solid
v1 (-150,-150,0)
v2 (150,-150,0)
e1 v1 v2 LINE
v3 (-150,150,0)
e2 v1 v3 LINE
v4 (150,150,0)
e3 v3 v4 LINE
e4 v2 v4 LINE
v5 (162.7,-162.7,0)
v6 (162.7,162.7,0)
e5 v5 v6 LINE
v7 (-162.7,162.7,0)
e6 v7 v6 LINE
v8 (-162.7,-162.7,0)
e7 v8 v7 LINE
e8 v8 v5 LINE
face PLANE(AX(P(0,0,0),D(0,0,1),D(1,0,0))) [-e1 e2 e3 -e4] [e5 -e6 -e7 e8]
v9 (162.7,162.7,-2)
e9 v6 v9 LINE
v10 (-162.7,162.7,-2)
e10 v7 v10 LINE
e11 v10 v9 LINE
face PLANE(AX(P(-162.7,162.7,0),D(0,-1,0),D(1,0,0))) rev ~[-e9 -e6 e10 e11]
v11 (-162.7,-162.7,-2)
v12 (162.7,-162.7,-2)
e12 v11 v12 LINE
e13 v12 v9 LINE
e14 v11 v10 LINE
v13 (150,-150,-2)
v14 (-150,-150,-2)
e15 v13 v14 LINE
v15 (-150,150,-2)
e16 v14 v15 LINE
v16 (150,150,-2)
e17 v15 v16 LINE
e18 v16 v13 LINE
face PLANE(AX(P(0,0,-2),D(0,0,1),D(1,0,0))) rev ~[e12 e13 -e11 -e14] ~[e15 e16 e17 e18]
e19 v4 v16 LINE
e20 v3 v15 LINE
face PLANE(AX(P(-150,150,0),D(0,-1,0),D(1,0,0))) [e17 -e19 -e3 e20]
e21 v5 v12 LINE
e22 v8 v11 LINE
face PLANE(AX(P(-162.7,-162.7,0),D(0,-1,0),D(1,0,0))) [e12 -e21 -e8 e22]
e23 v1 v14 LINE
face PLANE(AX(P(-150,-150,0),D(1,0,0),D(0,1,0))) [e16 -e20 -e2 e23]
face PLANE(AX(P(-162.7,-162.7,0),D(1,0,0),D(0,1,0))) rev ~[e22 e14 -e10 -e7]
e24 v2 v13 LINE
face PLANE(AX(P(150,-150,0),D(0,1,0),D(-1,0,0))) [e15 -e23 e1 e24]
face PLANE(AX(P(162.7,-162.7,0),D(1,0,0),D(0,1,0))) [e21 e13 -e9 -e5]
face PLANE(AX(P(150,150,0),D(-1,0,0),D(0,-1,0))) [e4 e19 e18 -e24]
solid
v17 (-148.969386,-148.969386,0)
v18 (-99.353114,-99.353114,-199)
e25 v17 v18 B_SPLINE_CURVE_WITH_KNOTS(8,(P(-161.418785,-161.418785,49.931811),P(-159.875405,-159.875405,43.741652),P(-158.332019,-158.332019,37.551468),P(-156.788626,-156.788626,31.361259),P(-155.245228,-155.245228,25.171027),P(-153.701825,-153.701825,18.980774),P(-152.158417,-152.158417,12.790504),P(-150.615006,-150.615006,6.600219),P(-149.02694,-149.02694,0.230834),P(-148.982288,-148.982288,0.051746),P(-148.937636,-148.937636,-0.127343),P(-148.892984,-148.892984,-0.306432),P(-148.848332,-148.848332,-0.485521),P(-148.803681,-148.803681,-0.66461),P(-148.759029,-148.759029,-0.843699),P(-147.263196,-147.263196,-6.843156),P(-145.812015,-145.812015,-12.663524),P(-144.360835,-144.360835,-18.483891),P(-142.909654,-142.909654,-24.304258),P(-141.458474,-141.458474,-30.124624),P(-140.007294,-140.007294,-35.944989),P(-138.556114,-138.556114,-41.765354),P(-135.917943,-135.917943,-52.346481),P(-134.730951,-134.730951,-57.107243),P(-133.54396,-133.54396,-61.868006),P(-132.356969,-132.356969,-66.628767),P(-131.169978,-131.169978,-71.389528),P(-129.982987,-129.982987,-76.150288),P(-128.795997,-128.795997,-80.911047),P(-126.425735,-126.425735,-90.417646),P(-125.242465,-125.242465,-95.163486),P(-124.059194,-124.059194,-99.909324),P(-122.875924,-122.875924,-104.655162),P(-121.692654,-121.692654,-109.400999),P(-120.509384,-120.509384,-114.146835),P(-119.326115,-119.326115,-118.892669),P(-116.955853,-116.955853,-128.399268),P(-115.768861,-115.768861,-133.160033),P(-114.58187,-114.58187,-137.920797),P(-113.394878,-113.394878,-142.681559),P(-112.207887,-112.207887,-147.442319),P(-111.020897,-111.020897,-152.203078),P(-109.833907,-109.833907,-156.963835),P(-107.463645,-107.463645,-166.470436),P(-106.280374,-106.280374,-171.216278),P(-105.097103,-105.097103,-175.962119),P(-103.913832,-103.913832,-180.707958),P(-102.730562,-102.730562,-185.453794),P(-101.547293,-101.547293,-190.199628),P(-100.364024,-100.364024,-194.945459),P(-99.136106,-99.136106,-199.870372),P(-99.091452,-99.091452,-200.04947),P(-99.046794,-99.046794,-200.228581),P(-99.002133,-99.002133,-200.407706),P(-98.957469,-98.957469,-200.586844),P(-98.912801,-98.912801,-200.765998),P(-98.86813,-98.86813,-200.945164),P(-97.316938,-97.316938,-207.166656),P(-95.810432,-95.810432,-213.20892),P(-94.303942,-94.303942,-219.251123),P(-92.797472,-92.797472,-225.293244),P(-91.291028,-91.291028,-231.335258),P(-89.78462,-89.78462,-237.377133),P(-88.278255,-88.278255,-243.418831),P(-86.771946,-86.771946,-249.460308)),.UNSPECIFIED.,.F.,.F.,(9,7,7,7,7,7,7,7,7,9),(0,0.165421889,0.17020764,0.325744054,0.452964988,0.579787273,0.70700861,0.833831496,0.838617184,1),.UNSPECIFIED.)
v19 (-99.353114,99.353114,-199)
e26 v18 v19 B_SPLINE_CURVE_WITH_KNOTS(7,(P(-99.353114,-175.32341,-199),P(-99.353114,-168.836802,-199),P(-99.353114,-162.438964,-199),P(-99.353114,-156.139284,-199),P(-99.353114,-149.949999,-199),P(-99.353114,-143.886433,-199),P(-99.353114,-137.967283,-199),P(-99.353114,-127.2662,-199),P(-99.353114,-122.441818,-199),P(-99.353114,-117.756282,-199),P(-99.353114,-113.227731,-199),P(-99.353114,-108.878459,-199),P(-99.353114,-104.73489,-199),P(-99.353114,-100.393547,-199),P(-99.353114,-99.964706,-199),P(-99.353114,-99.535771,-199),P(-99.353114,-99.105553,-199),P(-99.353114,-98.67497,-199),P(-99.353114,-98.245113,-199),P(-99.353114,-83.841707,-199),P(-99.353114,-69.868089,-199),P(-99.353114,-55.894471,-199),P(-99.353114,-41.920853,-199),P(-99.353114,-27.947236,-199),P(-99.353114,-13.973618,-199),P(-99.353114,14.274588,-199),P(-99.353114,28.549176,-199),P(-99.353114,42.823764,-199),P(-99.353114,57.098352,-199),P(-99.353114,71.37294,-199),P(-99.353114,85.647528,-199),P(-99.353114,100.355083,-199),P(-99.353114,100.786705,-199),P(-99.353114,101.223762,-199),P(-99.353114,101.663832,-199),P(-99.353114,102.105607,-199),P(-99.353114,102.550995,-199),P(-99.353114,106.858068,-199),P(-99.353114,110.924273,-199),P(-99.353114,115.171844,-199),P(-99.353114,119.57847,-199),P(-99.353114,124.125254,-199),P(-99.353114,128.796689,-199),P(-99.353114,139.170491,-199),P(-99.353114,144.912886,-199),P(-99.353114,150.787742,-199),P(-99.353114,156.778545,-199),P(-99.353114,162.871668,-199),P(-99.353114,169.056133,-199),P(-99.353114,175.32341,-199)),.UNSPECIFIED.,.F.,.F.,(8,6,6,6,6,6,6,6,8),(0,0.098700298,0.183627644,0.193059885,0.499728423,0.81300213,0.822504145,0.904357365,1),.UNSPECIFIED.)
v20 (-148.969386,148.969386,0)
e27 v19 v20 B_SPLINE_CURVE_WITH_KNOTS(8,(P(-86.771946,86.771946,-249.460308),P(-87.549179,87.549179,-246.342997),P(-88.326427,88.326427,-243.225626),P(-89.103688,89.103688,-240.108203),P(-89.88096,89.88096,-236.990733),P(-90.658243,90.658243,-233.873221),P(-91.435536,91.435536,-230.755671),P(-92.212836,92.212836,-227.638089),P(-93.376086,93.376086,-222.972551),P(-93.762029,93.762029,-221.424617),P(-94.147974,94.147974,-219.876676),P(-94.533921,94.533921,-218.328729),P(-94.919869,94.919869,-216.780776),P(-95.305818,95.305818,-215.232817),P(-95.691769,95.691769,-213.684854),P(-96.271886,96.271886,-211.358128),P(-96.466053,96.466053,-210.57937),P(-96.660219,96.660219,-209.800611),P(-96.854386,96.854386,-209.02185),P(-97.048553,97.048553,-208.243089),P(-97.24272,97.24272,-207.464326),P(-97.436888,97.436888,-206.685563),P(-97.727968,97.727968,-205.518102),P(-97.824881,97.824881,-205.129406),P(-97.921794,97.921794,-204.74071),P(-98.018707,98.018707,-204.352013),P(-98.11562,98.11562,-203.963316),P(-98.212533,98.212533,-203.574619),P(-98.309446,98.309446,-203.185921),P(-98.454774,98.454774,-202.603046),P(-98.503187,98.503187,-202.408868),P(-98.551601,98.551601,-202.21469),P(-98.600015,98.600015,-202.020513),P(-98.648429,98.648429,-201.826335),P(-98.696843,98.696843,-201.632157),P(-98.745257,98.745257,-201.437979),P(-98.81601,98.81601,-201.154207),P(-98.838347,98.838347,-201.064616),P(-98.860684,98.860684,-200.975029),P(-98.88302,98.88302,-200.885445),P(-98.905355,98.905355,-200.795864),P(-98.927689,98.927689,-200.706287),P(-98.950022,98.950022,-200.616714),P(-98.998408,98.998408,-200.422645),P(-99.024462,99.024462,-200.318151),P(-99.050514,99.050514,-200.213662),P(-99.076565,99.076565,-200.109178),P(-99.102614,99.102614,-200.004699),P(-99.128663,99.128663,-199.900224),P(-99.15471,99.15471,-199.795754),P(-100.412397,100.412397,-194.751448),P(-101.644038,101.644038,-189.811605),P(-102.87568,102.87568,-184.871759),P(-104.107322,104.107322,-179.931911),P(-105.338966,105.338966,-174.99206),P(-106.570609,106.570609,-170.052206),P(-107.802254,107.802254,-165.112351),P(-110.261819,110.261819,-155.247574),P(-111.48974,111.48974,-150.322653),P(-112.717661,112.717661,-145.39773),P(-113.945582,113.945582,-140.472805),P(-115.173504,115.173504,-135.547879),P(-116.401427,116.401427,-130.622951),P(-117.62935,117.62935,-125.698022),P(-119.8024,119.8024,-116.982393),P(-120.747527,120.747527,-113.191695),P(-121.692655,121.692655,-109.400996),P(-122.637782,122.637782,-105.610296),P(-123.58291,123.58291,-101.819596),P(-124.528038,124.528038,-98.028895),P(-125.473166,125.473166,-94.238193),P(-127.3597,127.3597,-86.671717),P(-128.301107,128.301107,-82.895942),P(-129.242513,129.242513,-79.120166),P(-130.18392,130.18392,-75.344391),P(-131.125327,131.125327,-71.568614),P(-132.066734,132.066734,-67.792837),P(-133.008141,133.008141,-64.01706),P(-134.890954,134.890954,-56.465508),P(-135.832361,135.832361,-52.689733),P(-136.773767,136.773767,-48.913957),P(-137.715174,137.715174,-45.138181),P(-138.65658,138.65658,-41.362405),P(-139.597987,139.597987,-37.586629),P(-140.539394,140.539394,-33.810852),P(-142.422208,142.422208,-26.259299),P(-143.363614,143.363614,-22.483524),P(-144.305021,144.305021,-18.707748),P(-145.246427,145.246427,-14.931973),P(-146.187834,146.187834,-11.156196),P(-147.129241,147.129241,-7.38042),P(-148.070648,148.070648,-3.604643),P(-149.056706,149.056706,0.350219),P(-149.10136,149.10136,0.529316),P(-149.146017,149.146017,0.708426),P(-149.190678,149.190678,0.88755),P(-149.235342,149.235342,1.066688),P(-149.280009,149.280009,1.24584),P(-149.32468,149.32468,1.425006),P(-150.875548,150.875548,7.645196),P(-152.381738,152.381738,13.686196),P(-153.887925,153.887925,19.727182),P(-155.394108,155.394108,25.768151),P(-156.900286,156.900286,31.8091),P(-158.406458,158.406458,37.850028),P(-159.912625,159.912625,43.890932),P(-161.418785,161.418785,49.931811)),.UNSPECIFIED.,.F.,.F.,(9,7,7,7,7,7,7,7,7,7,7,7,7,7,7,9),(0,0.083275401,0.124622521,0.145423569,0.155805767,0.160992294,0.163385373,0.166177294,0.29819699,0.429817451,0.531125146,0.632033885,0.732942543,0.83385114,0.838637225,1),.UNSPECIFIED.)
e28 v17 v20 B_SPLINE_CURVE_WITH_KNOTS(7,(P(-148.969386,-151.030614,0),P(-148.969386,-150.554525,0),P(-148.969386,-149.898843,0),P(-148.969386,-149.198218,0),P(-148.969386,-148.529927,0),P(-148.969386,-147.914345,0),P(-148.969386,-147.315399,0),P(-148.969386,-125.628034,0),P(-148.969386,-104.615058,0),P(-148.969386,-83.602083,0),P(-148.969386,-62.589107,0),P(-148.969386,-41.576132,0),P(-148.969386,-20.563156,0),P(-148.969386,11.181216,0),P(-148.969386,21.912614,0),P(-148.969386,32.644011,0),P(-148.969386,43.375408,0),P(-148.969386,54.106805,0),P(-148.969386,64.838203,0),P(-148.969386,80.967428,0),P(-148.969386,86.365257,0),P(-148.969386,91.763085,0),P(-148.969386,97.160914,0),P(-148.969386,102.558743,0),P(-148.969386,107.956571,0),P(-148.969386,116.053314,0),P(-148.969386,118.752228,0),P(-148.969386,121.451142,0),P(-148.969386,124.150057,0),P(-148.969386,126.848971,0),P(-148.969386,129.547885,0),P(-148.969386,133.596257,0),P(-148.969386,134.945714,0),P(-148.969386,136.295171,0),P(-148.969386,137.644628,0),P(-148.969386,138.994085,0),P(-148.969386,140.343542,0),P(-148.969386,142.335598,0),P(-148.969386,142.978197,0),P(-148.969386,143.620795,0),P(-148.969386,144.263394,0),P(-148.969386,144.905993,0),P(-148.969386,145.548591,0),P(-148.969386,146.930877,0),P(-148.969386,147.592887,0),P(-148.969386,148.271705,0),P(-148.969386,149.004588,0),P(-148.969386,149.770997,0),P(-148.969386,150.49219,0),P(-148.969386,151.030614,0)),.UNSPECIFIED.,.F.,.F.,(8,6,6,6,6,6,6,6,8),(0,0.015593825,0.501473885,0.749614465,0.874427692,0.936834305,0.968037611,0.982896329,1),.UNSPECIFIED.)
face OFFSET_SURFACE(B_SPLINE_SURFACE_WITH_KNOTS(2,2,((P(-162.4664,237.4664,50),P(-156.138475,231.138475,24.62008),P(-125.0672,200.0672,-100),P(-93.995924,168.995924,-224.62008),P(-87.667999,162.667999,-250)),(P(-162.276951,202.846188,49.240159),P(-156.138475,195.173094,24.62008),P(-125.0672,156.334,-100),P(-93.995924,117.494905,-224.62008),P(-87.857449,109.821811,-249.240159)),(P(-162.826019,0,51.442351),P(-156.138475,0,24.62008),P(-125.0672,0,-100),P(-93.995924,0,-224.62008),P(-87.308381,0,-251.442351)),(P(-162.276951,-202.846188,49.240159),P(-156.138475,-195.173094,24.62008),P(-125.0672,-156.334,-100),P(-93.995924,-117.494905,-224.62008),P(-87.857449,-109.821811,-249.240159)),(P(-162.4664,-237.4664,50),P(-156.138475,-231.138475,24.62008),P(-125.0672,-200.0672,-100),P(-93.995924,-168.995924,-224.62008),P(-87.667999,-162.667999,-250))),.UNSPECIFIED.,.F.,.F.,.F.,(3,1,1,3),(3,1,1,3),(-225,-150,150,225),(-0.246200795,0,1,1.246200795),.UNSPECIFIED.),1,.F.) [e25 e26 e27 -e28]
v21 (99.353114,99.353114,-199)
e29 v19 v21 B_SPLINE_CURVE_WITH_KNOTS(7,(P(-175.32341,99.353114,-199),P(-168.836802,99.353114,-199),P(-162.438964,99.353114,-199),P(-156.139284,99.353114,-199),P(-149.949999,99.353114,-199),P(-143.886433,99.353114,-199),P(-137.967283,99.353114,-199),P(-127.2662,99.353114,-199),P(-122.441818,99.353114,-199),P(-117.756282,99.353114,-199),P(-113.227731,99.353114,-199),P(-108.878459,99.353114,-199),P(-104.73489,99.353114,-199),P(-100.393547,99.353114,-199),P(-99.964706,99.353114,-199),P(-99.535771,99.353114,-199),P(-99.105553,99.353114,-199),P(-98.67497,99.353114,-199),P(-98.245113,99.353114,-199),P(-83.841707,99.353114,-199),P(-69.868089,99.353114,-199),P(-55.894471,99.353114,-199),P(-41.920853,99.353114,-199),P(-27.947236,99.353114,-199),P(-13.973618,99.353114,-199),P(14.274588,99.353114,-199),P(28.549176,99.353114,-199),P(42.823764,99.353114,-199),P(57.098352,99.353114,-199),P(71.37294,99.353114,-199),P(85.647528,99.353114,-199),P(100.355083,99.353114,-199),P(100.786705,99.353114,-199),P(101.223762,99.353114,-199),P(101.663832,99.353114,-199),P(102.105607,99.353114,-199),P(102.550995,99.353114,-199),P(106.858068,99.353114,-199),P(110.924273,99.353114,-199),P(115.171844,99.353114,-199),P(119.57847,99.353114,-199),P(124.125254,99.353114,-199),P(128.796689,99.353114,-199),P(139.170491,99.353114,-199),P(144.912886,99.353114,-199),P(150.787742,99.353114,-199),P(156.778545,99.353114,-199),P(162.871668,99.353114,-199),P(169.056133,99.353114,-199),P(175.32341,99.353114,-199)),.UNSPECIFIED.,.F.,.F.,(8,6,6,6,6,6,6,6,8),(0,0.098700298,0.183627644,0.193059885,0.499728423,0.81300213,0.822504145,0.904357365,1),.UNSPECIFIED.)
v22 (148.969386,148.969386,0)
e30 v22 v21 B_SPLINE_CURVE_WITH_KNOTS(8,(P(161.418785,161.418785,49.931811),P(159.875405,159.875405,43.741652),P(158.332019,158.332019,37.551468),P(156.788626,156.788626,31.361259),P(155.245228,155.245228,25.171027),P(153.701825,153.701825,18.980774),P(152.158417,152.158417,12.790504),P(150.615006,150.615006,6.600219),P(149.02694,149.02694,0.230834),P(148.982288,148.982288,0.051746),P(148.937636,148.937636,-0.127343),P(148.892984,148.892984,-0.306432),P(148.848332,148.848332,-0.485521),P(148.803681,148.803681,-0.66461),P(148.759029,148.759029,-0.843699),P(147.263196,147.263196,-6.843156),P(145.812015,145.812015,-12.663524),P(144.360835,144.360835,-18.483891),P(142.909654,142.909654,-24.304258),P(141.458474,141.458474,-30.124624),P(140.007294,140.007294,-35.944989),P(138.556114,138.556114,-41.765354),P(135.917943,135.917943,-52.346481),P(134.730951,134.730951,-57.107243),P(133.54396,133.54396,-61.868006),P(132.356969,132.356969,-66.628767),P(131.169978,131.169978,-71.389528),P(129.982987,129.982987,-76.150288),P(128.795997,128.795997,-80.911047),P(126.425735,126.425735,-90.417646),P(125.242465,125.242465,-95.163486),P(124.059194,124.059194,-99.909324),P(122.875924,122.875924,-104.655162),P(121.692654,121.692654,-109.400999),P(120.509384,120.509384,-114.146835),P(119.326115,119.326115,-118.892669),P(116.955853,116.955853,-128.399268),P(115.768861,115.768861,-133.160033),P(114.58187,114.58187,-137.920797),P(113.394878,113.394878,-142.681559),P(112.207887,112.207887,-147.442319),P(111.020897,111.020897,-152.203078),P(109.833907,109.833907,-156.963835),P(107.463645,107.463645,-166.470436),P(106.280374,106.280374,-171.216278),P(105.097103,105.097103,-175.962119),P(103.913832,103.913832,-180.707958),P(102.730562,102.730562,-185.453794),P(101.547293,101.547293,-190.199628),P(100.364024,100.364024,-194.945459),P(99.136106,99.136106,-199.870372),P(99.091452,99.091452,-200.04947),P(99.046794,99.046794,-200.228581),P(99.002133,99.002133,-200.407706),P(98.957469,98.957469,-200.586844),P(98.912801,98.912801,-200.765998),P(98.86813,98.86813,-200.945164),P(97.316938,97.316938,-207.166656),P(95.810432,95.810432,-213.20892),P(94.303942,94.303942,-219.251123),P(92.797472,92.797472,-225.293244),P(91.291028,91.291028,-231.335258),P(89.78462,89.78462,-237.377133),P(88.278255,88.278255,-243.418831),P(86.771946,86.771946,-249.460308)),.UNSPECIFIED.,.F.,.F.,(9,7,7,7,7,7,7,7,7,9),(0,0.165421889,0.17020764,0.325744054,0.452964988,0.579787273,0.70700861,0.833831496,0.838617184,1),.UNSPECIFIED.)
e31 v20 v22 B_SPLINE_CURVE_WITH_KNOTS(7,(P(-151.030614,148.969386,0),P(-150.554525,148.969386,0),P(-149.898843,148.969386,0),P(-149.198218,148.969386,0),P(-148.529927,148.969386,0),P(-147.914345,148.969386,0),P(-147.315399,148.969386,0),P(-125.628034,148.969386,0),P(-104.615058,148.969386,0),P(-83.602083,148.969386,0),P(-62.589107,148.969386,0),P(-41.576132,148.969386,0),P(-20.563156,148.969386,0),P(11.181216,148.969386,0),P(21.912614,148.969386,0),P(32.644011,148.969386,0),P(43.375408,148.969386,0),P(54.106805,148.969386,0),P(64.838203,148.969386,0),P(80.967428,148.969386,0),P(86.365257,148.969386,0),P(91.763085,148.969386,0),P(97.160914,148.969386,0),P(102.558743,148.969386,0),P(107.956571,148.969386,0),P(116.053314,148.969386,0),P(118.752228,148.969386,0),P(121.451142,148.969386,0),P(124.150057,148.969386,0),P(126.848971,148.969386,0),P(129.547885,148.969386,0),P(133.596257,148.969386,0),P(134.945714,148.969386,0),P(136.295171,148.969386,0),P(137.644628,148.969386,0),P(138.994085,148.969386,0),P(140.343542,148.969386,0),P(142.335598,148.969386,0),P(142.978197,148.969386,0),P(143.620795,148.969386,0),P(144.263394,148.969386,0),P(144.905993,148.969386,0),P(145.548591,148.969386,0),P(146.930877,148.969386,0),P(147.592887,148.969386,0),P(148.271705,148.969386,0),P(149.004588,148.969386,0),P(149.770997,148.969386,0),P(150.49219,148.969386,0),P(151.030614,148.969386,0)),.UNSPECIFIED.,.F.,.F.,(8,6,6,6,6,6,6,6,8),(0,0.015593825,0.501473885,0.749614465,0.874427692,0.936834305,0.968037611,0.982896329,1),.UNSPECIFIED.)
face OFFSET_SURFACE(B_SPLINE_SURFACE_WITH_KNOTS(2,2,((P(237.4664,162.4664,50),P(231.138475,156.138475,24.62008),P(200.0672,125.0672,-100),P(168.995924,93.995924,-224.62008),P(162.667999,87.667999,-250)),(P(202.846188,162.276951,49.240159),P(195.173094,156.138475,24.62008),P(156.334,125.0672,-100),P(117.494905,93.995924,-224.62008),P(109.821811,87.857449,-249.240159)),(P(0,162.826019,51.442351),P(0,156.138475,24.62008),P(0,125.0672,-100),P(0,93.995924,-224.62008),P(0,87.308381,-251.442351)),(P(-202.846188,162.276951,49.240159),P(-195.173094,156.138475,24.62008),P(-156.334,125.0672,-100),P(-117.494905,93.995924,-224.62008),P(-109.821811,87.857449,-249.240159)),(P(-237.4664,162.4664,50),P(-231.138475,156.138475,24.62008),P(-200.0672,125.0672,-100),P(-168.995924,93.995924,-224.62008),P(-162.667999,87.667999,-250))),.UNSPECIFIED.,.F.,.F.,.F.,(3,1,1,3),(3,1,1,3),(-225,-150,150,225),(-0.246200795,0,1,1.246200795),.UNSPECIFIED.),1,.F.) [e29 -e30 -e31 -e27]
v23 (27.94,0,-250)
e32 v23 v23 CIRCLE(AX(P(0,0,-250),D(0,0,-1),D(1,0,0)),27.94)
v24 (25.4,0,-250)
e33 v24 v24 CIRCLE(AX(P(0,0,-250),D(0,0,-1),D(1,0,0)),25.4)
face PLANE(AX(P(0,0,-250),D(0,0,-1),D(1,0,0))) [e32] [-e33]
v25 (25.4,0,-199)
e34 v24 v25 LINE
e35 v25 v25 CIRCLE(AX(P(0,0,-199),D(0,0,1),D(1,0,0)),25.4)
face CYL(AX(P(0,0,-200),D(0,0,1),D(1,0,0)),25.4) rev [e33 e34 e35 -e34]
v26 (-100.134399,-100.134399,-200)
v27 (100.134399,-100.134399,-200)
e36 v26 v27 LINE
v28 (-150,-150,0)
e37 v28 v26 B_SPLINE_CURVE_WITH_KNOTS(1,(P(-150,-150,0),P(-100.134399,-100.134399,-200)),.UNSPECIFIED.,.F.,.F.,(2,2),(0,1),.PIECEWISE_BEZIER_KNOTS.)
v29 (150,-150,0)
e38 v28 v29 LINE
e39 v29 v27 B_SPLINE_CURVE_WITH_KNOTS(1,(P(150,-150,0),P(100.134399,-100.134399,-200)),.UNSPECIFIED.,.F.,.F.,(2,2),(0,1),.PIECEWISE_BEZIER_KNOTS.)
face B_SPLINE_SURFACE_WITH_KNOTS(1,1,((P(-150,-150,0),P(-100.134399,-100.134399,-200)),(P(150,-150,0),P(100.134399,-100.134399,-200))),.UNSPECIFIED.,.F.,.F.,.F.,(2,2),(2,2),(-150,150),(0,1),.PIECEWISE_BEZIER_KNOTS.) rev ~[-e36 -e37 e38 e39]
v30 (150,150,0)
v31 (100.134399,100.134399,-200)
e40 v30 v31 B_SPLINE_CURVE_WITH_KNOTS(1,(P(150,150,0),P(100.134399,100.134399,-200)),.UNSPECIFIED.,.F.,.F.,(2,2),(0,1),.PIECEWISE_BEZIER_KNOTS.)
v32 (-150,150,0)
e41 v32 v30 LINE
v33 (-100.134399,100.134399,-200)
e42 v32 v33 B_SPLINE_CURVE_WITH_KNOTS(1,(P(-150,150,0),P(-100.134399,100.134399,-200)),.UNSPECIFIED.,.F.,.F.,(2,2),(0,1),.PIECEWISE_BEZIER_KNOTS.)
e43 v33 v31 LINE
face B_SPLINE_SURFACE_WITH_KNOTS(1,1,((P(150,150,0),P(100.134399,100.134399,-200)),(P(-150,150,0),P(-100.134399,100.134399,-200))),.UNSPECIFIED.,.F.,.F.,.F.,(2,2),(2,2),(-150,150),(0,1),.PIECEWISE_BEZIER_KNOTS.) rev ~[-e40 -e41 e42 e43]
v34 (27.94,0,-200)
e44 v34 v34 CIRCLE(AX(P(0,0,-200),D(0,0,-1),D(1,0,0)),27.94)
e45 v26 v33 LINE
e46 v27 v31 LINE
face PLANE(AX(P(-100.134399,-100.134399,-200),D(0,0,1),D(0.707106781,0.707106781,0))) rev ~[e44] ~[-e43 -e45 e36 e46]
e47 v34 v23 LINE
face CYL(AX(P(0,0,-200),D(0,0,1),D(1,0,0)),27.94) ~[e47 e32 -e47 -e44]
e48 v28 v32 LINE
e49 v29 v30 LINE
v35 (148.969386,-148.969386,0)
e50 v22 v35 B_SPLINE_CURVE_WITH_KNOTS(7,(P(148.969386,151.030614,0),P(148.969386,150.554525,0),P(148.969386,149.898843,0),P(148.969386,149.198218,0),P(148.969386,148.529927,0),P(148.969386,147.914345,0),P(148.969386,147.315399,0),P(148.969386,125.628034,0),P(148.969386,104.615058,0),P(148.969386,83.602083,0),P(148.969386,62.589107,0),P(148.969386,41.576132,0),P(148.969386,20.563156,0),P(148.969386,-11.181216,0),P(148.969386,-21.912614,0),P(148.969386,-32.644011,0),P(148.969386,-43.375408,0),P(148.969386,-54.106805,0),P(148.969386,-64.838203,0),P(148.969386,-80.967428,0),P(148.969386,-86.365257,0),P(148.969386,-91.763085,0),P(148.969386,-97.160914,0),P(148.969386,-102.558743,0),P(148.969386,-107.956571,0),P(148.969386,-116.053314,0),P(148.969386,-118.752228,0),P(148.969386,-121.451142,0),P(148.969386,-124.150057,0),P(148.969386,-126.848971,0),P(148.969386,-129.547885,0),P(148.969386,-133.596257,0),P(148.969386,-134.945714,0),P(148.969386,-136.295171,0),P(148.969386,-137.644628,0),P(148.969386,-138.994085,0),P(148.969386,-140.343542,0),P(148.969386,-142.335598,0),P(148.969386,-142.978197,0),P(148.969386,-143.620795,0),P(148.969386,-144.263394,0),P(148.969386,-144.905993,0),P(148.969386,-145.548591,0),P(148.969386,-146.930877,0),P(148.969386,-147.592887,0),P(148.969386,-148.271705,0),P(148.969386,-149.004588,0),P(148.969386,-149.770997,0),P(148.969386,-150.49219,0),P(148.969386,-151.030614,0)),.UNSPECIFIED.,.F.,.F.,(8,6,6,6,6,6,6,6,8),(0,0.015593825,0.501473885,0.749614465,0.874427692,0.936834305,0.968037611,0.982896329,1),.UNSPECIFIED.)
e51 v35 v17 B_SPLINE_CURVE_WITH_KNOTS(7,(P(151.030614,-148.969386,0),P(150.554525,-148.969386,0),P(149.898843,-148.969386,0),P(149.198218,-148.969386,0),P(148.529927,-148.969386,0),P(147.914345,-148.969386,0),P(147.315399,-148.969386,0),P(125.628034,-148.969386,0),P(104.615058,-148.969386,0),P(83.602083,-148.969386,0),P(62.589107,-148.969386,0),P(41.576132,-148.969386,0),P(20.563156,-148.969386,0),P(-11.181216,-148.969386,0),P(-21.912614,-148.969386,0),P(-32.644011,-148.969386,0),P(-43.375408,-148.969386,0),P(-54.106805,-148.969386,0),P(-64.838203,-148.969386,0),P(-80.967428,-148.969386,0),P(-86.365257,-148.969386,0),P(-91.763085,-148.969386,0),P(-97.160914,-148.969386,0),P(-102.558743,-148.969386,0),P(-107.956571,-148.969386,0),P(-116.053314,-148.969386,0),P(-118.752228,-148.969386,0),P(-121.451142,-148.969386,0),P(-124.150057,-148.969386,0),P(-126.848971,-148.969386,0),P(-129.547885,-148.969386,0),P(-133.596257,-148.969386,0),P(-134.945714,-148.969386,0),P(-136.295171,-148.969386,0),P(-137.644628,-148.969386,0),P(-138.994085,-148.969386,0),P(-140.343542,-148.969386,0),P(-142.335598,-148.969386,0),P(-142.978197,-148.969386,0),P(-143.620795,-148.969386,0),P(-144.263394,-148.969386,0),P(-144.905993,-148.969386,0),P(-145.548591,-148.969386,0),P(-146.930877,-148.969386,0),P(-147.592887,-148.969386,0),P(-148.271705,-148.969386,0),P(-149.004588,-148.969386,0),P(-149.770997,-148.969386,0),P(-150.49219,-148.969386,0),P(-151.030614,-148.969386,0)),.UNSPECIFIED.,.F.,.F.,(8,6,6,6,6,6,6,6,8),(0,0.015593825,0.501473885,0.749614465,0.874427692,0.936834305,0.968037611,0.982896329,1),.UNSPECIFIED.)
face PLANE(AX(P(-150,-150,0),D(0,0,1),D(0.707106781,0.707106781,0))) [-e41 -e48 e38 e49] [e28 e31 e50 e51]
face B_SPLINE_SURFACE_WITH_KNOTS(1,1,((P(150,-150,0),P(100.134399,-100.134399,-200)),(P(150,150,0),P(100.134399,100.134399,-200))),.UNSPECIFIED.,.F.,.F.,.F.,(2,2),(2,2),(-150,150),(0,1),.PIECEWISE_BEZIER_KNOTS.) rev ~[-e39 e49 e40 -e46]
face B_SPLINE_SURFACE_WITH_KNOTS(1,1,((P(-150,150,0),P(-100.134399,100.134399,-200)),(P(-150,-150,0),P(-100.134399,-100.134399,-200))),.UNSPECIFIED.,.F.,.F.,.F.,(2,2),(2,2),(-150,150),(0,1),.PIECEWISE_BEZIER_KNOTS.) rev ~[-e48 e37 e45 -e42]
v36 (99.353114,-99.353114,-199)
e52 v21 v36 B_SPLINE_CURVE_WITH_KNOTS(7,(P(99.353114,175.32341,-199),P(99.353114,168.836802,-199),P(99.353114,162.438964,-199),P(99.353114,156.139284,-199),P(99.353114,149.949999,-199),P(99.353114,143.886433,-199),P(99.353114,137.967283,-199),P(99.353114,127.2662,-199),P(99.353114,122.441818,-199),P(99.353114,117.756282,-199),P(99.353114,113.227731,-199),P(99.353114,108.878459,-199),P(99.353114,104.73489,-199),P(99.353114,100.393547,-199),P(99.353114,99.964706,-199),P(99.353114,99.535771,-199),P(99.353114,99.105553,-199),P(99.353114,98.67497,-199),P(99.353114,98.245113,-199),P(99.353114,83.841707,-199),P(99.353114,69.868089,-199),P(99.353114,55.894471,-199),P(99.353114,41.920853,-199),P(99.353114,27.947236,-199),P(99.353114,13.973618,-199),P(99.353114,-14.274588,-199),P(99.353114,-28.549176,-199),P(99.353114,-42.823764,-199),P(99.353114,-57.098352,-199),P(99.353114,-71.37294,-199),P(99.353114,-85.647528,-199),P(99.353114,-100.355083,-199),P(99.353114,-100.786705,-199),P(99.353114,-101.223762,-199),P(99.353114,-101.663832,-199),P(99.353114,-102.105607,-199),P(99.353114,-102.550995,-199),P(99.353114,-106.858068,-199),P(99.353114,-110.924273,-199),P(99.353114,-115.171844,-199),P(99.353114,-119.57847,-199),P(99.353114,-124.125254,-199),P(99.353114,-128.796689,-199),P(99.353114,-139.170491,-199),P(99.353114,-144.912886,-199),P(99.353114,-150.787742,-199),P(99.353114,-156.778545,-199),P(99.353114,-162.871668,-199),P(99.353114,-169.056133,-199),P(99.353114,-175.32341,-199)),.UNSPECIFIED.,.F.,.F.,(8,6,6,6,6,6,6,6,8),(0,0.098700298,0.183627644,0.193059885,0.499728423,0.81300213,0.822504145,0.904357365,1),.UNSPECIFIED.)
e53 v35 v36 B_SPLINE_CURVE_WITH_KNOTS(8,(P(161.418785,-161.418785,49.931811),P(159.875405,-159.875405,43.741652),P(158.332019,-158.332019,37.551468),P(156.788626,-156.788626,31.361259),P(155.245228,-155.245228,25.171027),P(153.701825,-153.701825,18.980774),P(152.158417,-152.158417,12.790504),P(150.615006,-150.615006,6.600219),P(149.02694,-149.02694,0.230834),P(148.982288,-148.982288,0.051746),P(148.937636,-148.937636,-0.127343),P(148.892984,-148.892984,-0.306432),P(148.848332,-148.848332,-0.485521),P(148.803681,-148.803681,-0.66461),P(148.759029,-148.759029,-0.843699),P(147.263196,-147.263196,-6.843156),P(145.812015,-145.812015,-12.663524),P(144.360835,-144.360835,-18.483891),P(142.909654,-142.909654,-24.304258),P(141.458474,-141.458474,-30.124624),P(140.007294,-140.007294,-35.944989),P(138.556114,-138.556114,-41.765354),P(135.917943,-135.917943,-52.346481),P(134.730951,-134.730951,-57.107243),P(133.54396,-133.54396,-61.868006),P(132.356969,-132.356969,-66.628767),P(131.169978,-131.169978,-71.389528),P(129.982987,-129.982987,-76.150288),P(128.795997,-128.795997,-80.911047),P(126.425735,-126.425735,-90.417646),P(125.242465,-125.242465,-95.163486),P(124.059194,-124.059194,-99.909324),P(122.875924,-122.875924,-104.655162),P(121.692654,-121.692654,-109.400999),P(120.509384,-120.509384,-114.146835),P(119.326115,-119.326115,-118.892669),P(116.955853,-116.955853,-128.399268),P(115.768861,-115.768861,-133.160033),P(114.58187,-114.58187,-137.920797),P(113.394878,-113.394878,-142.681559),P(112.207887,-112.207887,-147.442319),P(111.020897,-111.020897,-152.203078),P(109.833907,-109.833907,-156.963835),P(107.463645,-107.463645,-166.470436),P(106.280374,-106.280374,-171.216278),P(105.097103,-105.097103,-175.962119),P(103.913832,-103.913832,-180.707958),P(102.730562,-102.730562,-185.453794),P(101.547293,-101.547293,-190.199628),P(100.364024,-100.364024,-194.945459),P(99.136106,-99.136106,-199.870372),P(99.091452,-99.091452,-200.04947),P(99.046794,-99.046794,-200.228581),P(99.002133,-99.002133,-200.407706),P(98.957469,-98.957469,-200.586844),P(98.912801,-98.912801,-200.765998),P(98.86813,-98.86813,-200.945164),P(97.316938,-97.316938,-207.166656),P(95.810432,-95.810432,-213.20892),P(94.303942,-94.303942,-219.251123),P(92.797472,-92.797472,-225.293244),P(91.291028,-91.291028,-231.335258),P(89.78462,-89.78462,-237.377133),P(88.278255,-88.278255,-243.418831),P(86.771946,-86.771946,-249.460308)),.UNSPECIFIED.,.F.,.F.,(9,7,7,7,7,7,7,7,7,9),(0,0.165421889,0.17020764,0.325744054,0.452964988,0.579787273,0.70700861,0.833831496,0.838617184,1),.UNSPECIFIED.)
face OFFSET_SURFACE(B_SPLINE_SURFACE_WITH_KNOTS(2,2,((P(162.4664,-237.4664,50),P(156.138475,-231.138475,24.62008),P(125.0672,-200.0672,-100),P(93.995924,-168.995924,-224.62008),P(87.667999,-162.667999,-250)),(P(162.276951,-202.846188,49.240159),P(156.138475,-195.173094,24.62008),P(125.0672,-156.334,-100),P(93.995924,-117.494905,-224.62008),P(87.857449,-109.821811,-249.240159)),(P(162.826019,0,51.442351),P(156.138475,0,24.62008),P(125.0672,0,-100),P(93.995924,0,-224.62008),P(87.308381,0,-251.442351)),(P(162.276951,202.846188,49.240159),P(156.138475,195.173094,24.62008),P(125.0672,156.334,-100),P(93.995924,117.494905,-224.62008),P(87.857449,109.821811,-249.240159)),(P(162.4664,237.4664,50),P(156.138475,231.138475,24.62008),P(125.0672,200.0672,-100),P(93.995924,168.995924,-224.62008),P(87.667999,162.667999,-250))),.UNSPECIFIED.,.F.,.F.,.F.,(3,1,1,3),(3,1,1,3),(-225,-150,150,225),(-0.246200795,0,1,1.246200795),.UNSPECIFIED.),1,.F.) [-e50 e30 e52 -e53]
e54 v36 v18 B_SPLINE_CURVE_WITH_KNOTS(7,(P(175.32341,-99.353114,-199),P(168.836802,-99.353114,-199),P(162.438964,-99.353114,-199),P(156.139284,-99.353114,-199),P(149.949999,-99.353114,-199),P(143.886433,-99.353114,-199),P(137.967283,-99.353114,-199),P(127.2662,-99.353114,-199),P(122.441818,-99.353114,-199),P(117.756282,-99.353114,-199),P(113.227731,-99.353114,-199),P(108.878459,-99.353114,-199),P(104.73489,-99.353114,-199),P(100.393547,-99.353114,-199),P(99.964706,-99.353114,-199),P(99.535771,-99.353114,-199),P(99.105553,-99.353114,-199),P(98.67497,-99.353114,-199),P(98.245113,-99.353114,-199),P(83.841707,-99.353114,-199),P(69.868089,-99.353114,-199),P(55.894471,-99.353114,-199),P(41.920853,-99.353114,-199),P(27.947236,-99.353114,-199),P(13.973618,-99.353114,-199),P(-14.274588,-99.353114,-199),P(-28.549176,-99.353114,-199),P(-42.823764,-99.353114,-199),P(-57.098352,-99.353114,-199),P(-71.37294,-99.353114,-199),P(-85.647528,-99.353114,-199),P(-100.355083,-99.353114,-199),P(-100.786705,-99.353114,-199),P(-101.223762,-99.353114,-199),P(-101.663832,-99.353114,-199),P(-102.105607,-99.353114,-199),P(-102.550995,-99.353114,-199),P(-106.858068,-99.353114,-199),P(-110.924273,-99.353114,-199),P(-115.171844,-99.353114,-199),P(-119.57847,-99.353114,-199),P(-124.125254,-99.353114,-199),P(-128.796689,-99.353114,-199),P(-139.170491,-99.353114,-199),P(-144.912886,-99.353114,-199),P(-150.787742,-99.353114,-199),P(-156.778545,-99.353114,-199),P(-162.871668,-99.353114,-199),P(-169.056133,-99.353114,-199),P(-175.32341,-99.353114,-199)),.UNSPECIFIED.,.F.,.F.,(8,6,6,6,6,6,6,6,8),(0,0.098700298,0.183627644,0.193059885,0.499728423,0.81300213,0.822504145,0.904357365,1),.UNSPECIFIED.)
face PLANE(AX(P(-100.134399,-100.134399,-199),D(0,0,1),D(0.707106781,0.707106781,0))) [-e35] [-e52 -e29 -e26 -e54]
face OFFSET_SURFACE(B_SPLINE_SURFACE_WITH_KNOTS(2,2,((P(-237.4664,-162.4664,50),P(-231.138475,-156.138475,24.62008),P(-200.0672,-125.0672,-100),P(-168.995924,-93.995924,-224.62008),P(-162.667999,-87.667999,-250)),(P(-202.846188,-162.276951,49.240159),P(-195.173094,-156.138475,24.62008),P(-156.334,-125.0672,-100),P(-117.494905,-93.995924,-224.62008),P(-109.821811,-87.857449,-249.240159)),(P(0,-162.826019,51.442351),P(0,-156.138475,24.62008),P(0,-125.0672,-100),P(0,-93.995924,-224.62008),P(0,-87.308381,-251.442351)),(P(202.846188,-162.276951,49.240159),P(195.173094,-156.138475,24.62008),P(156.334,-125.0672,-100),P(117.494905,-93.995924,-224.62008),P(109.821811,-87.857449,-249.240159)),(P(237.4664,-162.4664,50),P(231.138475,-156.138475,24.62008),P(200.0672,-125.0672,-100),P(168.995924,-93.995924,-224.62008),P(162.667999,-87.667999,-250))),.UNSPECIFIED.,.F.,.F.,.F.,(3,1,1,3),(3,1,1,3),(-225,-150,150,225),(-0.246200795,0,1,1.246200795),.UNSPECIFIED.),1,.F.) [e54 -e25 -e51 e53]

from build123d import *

# Parameters (mm, degrees)
F0_W     = 300
F0_H     = 300
F1_DEPTH = 200
F1_TAPER = 14
F2_T     = -1
F3_R     = 25.4
F4_DEPTH = 25
F5_R     = 27.94
F5_R_2   = 25.4
F6_DEPTH = 50
F7_W     = 325.4
F7_H     = 325.4
F8_DEPTH = 2


with BuildPart() as f1:
    # F0 (on Top) → F1 (new body)
    with BuildSketch(Plane.XY):
        Rectangle(F0_W, F0_H)
    extrude(amount=-F1_DEPTH, taper=F1_TAPER)

    # F2
    f2_openings = [f1.faces().sort_by_distance(p)[0] for p in [
        (0, 0, 0),
    ]]
    offset(amount=F2_T, openings=f2_openings, kind=Kind.INTERSECTION)

    # F3 (on face) → F4 (cut)
    with BuildSketch(Plane.XY.offset(-199)):
        Circle(F3_R)
    extrude(amount=-F4_DEPTH, mode=Mode.SUBTRACT)

    # F5 (on face) → F6 (join)
    with BuildSketch(Plane(origin=(0, 0, -200), x_dir=(1, 0, 0), z_dir=(0, 0, -1))):
        Circle(F5_R)
        Circle(F5_R_2, mode=Mode.SUBTRACT)
    extrude(amount=F6_DEPTH)

    # F7 (on face) → F8 (join)
    with BuildSketch(Plane.XY):
        Rectangle(F7_W, F7_H)
        Polygon((149, -150), (-150, -150), (-150, 149), (-150, 150), (150, 150), (150, -150), align=None, mode=Mode.SUBTRACT)
    extrude(amount=-F8_DEPTH)


solid = f1.part
